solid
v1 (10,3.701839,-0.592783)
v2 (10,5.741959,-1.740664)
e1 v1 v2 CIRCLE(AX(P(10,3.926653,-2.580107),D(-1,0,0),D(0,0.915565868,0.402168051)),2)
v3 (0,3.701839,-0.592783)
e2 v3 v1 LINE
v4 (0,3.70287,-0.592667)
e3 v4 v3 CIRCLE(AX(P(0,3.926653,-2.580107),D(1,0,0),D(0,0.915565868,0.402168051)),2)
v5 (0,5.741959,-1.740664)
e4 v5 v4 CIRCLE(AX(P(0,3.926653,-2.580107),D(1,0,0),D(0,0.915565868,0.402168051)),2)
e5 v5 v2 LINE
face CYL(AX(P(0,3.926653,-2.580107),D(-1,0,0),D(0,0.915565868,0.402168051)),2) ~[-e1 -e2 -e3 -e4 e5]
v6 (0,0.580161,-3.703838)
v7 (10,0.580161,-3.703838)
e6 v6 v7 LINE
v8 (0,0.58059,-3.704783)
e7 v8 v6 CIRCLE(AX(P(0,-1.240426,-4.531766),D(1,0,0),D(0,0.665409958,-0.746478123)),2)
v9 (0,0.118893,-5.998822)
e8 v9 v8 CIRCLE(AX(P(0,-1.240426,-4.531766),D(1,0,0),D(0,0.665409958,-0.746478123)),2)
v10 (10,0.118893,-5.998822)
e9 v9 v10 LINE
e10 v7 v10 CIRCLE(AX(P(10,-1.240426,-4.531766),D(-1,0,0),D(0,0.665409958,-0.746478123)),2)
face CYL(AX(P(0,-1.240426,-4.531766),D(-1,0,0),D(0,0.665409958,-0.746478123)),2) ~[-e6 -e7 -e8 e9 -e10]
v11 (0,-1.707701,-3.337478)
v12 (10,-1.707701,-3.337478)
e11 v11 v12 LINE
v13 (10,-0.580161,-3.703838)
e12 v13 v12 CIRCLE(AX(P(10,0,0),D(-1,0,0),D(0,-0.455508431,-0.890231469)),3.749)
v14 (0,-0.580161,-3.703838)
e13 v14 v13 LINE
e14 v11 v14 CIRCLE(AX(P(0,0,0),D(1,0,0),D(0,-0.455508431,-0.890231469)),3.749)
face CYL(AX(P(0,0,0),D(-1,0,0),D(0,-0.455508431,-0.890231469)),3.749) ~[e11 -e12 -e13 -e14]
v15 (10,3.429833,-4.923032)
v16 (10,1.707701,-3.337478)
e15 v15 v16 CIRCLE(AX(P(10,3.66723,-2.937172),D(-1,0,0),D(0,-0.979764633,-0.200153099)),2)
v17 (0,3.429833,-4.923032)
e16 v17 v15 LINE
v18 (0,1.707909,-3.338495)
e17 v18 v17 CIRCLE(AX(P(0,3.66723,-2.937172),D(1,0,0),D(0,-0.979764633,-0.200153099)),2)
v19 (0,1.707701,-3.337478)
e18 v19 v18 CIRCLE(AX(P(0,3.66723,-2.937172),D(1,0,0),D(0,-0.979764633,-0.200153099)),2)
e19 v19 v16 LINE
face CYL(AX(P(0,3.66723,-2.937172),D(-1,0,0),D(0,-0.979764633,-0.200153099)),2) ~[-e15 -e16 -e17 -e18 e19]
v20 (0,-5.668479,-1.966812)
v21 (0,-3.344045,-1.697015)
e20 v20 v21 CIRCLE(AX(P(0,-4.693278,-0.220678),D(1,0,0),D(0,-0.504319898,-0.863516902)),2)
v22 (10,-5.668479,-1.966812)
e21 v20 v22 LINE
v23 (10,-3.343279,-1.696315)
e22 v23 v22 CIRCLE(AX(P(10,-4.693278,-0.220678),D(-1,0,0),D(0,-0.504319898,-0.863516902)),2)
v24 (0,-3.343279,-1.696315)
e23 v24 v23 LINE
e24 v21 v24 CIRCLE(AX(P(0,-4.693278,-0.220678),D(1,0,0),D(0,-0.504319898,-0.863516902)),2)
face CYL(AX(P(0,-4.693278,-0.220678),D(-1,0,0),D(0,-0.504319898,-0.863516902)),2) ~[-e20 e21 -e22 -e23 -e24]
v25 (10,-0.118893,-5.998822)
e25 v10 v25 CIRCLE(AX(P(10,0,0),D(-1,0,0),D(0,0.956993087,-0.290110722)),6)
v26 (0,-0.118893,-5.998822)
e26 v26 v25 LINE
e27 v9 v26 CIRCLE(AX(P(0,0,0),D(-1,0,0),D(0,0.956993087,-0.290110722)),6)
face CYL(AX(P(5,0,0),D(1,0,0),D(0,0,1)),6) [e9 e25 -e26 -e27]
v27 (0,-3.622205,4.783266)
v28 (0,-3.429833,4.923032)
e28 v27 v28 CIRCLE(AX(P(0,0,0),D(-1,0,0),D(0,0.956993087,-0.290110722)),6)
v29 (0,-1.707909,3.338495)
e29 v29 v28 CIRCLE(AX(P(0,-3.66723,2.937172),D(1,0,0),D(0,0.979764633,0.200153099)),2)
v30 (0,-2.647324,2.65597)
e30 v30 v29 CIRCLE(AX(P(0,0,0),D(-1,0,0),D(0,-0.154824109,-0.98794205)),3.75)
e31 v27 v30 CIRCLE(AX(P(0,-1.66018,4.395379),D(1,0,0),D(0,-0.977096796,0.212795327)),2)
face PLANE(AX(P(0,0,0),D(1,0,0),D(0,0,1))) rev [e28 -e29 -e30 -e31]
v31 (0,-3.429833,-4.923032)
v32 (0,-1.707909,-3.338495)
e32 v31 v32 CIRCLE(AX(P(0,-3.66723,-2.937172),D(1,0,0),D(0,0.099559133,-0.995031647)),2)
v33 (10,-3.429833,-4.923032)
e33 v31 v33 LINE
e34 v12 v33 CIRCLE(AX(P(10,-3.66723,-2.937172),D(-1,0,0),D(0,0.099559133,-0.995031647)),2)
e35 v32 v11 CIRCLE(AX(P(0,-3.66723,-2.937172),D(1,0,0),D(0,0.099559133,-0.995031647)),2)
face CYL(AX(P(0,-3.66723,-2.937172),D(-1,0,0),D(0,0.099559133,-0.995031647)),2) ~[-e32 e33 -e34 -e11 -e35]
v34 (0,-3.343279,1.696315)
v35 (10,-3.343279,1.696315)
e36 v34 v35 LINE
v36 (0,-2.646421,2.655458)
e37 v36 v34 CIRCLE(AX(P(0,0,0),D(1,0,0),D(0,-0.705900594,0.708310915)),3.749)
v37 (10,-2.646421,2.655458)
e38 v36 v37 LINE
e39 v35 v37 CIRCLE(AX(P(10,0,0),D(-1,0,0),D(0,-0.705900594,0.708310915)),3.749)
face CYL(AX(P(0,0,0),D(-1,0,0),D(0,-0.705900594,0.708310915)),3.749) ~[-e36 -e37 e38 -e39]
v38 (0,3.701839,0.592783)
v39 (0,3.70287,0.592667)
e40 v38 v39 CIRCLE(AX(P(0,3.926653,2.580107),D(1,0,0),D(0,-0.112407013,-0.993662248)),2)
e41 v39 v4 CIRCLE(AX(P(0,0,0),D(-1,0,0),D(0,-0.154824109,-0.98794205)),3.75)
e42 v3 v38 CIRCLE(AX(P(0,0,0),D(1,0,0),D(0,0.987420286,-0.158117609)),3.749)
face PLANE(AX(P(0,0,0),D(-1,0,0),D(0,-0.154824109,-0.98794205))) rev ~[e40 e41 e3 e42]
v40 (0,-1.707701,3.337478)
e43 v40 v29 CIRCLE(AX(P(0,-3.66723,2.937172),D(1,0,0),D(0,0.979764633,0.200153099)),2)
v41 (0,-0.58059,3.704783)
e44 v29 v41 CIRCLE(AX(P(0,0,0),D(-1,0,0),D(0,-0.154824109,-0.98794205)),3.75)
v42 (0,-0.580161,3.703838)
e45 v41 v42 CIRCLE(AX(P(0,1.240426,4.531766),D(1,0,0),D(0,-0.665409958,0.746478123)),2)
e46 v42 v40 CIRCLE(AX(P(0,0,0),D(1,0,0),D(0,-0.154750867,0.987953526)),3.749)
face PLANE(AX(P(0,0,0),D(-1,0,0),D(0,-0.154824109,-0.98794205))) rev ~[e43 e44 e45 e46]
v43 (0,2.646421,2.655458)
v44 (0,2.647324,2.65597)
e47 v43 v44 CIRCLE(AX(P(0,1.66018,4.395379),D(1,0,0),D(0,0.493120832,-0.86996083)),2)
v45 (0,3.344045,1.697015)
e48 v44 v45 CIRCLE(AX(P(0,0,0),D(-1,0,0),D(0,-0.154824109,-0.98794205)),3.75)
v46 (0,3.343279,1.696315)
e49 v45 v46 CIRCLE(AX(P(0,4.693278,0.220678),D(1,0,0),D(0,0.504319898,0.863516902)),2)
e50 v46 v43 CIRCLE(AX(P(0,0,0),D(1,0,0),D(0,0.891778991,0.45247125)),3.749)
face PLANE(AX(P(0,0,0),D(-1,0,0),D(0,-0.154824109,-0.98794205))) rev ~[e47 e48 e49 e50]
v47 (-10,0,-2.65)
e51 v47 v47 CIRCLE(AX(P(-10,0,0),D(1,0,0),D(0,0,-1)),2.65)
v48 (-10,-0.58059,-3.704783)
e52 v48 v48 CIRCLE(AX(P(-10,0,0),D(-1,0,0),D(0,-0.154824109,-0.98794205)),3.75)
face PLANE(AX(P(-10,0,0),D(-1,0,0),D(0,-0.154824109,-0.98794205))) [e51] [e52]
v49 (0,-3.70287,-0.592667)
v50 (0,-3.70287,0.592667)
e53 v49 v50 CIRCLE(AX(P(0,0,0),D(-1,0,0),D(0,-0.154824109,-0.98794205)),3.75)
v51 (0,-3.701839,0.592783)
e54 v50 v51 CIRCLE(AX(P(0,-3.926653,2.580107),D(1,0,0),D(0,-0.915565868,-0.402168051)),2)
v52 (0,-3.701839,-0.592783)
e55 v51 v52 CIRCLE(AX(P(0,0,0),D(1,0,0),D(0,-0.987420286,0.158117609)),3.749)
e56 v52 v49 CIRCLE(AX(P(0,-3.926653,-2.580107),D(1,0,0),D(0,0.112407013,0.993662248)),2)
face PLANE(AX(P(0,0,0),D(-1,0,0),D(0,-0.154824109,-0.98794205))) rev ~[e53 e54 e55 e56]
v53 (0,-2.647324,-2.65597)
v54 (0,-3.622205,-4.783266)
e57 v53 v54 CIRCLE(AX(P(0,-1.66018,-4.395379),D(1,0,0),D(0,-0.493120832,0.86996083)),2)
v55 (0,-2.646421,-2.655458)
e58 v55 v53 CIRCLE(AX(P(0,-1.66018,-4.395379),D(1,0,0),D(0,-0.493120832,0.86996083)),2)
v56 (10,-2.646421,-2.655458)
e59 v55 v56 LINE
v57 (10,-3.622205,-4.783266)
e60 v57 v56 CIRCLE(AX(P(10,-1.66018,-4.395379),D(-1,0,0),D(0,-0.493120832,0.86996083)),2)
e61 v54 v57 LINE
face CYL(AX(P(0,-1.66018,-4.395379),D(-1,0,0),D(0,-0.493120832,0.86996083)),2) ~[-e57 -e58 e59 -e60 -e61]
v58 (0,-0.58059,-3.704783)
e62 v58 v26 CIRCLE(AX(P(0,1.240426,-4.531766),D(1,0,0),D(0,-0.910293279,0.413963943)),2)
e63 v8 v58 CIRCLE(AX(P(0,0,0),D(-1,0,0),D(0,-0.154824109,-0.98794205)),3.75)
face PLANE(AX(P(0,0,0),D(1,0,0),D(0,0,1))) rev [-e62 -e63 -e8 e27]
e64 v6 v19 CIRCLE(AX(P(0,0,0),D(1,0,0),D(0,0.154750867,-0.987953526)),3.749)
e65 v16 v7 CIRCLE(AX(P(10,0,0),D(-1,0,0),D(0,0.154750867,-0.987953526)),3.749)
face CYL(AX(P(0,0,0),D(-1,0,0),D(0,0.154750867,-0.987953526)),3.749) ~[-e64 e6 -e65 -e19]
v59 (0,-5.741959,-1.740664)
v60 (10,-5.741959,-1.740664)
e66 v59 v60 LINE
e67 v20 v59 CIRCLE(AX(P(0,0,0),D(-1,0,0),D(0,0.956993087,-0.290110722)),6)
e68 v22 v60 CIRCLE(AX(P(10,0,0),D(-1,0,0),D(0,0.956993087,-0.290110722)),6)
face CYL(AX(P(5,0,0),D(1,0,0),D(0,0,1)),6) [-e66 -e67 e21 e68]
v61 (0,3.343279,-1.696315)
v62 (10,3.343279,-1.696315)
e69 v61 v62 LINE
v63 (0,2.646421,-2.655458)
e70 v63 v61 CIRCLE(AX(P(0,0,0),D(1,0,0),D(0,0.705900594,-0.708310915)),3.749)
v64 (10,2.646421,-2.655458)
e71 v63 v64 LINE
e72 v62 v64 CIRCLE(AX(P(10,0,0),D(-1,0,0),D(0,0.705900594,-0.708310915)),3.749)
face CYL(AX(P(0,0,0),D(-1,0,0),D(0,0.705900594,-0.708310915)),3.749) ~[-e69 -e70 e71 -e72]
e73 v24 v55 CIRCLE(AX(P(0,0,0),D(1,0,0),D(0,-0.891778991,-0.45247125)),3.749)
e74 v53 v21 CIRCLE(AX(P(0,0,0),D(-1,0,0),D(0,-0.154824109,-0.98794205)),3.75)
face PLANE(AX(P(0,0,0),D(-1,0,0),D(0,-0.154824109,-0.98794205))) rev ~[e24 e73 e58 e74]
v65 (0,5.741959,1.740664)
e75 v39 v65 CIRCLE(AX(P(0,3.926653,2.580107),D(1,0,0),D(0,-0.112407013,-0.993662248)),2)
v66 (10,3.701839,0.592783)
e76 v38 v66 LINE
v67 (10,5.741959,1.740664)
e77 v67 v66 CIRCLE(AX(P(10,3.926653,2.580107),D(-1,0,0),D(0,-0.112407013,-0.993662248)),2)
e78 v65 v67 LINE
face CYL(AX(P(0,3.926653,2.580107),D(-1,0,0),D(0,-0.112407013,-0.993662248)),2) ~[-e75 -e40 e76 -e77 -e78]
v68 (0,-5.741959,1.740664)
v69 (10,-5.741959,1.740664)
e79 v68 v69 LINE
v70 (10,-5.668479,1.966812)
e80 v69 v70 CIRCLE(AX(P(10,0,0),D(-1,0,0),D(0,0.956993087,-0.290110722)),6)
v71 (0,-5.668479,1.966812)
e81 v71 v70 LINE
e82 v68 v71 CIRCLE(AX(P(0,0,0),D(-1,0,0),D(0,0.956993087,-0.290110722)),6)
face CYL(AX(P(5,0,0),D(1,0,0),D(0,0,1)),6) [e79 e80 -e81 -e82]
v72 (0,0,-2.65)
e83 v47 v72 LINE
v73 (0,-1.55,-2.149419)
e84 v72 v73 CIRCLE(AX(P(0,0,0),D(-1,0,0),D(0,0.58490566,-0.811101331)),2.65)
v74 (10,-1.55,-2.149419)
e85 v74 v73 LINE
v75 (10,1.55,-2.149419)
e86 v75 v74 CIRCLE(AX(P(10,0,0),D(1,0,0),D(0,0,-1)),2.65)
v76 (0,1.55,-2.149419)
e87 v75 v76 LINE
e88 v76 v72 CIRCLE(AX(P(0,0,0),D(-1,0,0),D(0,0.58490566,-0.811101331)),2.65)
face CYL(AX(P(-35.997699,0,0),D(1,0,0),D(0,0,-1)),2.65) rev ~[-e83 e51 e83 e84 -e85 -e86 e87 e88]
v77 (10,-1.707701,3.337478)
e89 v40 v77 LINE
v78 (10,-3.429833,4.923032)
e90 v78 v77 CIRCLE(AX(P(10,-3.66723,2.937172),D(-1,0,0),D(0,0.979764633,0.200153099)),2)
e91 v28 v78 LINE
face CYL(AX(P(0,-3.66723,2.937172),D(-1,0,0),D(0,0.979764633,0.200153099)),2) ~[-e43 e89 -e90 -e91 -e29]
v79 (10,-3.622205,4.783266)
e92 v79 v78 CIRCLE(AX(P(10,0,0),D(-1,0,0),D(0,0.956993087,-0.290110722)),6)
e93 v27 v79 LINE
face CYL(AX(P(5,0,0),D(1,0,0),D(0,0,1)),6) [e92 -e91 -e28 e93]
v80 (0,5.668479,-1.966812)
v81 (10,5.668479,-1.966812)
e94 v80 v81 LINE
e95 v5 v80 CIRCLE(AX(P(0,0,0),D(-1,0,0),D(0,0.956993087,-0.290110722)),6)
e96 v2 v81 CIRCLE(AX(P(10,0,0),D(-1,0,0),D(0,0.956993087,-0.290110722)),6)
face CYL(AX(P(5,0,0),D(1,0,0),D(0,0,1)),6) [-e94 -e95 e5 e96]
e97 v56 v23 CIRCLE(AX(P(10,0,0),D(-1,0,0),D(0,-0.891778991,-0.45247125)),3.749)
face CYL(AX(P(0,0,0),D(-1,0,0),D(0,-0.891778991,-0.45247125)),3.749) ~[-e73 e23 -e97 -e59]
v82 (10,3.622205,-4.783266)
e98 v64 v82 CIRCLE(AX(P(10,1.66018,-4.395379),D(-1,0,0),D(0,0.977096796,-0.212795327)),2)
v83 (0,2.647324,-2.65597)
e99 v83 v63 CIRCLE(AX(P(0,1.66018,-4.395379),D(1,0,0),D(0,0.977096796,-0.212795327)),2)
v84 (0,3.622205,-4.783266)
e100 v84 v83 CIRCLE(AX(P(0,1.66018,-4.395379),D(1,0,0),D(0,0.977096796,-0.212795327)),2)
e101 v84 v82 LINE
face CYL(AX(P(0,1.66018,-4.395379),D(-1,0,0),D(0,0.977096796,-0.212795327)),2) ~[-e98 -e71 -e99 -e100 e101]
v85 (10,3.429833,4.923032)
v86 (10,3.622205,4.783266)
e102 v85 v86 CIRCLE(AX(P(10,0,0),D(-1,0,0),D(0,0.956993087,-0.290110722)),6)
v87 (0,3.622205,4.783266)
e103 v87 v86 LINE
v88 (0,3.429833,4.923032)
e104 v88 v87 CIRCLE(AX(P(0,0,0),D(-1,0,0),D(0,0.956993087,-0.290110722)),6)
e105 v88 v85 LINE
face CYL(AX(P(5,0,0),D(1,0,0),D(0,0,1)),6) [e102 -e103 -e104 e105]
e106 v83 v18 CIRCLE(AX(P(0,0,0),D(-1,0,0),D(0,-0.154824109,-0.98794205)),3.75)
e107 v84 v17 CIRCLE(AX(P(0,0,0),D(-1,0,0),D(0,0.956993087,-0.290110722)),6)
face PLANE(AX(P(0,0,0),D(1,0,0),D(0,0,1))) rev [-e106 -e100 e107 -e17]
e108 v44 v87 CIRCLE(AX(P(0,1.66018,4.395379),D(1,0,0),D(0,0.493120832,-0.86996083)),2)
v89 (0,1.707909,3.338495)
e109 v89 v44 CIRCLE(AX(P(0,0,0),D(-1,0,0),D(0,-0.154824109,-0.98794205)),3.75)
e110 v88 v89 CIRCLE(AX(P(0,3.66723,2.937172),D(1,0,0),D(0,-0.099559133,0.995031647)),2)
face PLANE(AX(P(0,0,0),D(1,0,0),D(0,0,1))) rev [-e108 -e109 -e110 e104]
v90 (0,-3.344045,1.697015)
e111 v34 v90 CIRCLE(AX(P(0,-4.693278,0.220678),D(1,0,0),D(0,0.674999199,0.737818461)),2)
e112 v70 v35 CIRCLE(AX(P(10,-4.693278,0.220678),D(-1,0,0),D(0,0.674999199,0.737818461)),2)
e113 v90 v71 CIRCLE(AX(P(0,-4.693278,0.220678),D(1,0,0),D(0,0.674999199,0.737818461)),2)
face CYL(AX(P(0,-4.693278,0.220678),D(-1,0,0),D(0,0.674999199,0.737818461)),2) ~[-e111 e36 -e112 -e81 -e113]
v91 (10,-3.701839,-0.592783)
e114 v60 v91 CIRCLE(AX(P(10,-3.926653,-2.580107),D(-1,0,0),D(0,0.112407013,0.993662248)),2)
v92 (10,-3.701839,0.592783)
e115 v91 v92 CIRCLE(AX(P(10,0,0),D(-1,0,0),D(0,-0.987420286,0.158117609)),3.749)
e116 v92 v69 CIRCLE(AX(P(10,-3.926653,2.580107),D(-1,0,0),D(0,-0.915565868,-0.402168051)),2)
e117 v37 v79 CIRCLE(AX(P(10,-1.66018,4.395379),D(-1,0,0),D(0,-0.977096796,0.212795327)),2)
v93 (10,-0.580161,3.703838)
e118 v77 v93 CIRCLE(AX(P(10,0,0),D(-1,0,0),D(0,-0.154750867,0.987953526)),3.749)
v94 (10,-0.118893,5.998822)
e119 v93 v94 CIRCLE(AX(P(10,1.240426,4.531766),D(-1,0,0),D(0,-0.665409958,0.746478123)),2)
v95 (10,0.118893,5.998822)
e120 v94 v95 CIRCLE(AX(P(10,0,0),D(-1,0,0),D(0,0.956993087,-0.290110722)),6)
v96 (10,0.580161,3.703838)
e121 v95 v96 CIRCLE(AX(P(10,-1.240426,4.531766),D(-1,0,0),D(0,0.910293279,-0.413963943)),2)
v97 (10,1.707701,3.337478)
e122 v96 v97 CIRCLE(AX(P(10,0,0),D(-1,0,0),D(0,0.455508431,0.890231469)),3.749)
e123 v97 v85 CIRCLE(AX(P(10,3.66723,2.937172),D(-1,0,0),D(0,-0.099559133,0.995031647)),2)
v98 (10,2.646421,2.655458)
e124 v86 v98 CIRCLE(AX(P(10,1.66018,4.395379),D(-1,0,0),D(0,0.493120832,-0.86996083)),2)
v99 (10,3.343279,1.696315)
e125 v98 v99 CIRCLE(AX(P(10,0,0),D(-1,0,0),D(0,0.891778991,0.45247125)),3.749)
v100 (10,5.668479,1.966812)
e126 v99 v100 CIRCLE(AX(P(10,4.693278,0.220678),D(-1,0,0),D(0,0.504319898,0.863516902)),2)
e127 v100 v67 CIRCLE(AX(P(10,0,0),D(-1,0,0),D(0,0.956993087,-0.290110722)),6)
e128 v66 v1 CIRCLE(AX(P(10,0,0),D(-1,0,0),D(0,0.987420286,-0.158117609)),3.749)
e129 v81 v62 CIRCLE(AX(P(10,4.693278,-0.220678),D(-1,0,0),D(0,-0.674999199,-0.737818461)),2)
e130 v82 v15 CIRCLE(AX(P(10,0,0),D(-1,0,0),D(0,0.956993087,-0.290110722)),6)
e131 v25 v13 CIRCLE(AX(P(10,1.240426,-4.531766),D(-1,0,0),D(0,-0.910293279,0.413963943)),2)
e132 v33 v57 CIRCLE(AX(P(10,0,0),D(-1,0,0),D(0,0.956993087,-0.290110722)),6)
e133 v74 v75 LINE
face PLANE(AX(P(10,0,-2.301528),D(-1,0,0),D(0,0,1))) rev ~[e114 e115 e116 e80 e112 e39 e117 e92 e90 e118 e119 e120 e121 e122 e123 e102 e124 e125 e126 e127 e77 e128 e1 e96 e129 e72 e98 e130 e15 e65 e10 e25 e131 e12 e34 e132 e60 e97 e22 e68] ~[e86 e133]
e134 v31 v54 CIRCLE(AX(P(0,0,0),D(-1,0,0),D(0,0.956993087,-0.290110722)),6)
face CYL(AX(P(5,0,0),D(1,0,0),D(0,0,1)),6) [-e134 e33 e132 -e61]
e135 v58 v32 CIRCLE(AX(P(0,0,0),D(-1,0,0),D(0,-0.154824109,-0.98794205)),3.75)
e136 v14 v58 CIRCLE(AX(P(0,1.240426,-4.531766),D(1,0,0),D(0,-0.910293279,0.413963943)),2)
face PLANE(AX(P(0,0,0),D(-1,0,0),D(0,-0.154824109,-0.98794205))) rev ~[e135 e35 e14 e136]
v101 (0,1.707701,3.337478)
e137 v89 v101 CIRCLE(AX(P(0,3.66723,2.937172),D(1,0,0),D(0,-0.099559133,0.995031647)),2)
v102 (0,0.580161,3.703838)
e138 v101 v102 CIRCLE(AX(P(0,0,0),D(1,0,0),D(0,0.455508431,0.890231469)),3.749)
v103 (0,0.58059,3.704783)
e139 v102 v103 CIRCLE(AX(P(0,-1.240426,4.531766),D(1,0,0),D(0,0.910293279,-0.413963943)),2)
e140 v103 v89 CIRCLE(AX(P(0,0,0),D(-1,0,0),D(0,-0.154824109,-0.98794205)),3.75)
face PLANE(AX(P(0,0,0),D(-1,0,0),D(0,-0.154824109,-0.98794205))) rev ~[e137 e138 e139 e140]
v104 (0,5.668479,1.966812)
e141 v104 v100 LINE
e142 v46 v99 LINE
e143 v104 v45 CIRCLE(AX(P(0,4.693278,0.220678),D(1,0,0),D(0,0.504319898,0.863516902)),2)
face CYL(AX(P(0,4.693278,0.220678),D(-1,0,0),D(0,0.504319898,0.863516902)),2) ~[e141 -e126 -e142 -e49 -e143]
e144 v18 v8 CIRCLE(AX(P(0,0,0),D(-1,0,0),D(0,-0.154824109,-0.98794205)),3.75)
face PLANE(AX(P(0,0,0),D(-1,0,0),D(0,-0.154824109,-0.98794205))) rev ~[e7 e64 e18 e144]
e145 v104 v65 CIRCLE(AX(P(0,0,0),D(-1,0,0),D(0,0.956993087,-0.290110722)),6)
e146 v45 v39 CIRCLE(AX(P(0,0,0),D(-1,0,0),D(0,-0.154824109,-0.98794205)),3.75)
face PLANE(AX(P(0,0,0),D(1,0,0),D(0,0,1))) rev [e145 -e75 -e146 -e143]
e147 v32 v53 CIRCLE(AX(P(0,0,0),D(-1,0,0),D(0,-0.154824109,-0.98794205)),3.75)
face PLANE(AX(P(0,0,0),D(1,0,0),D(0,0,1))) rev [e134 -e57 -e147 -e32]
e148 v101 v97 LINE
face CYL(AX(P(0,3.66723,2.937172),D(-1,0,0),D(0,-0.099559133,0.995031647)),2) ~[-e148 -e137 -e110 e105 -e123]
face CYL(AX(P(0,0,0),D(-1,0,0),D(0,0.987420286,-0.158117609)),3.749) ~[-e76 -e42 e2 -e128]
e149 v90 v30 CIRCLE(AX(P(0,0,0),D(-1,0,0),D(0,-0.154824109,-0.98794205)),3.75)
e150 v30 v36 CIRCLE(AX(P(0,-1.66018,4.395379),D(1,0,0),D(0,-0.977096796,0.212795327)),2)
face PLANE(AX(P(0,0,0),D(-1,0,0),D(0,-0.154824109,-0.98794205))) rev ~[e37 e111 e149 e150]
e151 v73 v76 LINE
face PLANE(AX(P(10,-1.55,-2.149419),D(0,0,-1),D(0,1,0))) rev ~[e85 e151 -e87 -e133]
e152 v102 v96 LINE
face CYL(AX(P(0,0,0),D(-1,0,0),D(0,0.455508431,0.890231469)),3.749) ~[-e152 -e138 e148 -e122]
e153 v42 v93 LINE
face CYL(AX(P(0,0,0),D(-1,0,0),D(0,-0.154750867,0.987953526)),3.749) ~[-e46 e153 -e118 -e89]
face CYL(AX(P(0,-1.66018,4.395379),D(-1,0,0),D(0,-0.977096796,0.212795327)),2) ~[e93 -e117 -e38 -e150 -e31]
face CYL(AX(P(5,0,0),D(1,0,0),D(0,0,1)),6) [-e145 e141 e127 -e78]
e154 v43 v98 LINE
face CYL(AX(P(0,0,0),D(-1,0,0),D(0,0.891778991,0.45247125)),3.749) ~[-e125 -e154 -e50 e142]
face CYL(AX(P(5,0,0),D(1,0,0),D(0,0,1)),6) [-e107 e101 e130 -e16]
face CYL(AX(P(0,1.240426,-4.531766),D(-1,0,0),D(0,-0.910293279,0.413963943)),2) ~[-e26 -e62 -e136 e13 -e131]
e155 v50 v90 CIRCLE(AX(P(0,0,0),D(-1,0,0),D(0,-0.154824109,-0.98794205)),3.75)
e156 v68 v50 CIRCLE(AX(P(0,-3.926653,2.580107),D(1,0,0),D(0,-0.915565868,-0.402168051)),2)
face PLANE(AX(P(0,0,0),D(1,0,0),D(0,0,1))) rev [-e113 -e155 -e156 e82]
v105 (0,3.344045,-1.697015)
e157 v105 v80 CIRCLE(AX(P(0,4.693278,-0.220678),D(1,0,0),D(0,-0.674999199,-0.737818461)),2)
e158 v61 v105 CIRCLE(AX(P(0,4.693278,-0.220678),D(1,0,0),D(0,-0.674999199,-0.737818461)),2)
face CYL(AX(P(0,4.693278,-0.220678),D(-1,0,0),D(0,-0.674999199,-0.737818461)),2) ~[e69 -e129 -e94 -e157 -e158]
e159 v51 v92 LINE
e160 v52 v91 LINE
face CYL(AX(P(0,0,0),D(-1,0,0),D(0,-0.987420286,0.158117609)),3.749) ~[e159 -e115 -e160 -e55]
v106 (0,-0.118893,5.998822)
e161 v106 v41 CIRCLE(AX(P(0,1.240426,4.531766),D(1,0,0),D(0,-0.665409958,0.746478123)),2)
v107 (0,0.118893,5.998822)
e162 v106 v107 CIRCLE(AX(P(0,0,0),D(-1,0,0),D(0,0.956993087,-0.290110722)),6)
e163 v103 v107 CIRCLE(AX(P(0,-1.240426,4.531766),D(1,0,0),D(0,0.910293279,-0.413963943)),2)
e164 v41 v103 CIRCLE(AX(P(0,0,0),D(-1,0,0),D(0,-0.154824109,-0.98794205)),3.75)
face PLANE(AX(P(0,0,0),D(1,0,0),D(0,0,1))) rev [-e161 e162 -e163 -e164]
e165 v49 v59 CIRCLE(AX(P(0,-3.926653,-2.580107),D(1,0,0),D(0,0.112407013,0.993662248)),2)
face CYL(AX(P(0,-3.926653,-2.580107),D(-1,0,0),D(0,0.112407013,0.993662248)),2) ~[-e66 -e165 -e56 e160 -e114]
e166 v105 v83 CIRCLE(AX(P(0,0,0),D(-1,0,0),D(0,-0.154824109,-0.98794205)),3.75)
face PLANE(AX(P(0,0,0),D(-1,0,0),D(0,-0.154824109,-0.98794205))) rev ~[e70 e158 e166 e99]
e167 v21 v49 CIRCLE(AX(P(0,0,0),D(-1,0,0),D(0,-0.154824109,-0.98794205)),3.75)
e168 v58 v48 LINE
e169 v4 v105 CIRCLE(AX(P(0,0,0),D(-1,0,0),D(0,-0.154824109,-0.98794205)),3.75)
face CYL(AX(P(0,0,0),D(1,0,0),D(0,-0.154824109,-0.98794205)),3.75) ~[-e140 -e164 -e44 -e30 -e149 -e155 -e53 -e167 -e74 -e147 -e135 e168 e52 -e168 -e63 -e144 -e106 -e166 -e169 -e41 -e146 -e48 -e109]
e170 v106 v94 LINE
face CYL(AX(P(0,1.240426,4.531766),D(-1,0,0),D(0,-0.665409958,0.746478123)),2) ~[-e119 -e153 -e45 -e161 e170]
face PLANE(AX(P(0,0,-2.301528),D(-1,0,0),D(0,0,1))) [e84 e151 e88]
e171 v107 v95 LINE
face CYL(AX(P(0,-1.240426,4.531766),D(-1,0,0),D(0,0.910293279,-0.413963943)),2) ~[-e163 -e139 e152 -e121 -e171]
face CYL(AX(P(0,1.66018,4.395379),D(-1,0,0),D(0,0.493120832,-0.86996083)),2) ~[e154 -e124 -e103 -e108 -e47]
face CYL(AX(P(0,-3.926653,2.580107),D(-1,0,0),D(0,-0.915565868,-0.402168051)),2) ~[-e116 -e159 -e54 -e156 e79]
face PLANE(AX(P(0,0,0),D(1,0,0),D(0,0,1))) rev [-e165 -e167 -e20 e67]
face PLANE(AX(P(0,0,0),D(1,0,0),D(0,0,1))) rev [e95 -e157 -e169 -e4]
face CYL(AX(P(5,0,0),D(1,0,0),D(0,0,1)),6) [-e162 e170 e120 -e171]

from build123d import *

# Parameters (mm, degrees)
BASPROSKE_W                  = 10
BASPROSKE_H                  = 6
TOOTHCUT_DEPTH               = 14.114877049
TEETHCUTS_COUNT              = 10
TEETHCUTS_ANGLE              = 324
BORSKE_R                     = 0.4
BORE_DEPTH                   = 50.0000508
CROQUIS1_R                   = 3.75
SALIENTE_EXTRUIR1_DEPTH      = 10
TALADRO_DE_MARGEN_PARA_M51_D = 5.3
SALIENTE_EXTRUIR2_DEPTH      = 10


with BuildPart() as part:
    # BasProSke → Base-Revolve (revolve)
    with BuildSketch(Plane(origin=(0, 0, 0), x_dir=(1, 0, 0), z_dir=(0, 1, 0)), mode=Mode.PRIVATE) as base_revolve_sk:
        with Locations((5, 3)):
            Rectangle(BASPROSKE_W, BASPROSKE_H)
    revolve(base_revolve_sk.sketch.rotate(Axis((-10, 0, 0), (1, 0, 0)), 180), axis=Axis((-10, 0, 0), (1, 0, 0)))

    # TooCutSke → ToothCut (cut, through all)
    with BuildSketch(Plane(origin=(0, 0, 0), x_dir=(0, 0, -1), z_dir=(1, 0, 0))):
        with BuildLine():
            ThreePointArc((0.59278292, 3.701838653), (0, 3.749), (-0.59278292, 3.701838653))
            ThreePointArc((-0.59278292, 3.701838653), (-0.846593509, 4.924114224), (-1.775771316, 5.757784417))
            ThreePointArc((-1.775771316, 5.757784417), (0, 6.0254), (1.775771316, 5.757784417))
            ThreePointArc((1.775771316, 5.757784417), (0.846593509, 4.924114224), (0.59278292, 3.701838653))
        make_face()
    toothcut = extrude(amount=TOOTHCUT_DEPTH, mode=Mode.SUBTRACT)

    # TeethCuts: ToothCut ×10 about axis
    teethcuts_axis = Axis((-10, 0, 0), (1, 0, 0))
    for i in range(1, TEETHCUTS_COUNT):
        add(toothcut.rotate(teethcuts_axis, i * TEETHCUTS_ANGLE / (TEETHCUTS_COUNT - 1)), mode=Mode.SUBTRACT)

    # BorSke → Bore (cut, symmetric)
    with BuildSketch(Plane(origin=(0, 0, 0), x_dir=(0, 0, -1), z_dir=(1, 0, 0))):
        with Locations(Location((0, 0, 0), (0, 0, 180))):
            Circle(BORSKE_R)
    extrude(amount=BORE_DEPTH, both=True, mode=Mode.SUBTRACT)

    # Croquis1 → Saliente-Extruir1 (add)
    with BuildSketch(Plane.ZY):
        with Locations(Location((0, 0, 0), (0, 0, 188.906595326))):
            Circle(CROQUIS1_R)
    extrude(amount=SALIENTE_EXTRUIR1_DEPTH)

    # Taladro de margen para M51 (through all)
    with Locations(Plane.ZY.offset(10)):
        with Locations((0, 0)):
            Hole(TALADRO_DE_MARGEN_PARA_M51_D / 2)

    # Croquis5 → Saliente-Extruir2 (add)
    with BuildSketch(Plane(origin=(10, 0, 0), x_dir=(0, 0, -1), z_dir=(1, 0, 0))):
        with BuildLine():
            Line((2.149418526, 0), (2.149418526, 1.55))
            ThreePointArc((2.149418526, 1.55), (2.65, 0), (2.149418526, -1.55))
            Line((2.149418526, -1.55), (2.149418526, 0))
        make_face()
    extrude(amount=-SALIENTE_EXTRUIR2_DEPTH)


solid = part.part
